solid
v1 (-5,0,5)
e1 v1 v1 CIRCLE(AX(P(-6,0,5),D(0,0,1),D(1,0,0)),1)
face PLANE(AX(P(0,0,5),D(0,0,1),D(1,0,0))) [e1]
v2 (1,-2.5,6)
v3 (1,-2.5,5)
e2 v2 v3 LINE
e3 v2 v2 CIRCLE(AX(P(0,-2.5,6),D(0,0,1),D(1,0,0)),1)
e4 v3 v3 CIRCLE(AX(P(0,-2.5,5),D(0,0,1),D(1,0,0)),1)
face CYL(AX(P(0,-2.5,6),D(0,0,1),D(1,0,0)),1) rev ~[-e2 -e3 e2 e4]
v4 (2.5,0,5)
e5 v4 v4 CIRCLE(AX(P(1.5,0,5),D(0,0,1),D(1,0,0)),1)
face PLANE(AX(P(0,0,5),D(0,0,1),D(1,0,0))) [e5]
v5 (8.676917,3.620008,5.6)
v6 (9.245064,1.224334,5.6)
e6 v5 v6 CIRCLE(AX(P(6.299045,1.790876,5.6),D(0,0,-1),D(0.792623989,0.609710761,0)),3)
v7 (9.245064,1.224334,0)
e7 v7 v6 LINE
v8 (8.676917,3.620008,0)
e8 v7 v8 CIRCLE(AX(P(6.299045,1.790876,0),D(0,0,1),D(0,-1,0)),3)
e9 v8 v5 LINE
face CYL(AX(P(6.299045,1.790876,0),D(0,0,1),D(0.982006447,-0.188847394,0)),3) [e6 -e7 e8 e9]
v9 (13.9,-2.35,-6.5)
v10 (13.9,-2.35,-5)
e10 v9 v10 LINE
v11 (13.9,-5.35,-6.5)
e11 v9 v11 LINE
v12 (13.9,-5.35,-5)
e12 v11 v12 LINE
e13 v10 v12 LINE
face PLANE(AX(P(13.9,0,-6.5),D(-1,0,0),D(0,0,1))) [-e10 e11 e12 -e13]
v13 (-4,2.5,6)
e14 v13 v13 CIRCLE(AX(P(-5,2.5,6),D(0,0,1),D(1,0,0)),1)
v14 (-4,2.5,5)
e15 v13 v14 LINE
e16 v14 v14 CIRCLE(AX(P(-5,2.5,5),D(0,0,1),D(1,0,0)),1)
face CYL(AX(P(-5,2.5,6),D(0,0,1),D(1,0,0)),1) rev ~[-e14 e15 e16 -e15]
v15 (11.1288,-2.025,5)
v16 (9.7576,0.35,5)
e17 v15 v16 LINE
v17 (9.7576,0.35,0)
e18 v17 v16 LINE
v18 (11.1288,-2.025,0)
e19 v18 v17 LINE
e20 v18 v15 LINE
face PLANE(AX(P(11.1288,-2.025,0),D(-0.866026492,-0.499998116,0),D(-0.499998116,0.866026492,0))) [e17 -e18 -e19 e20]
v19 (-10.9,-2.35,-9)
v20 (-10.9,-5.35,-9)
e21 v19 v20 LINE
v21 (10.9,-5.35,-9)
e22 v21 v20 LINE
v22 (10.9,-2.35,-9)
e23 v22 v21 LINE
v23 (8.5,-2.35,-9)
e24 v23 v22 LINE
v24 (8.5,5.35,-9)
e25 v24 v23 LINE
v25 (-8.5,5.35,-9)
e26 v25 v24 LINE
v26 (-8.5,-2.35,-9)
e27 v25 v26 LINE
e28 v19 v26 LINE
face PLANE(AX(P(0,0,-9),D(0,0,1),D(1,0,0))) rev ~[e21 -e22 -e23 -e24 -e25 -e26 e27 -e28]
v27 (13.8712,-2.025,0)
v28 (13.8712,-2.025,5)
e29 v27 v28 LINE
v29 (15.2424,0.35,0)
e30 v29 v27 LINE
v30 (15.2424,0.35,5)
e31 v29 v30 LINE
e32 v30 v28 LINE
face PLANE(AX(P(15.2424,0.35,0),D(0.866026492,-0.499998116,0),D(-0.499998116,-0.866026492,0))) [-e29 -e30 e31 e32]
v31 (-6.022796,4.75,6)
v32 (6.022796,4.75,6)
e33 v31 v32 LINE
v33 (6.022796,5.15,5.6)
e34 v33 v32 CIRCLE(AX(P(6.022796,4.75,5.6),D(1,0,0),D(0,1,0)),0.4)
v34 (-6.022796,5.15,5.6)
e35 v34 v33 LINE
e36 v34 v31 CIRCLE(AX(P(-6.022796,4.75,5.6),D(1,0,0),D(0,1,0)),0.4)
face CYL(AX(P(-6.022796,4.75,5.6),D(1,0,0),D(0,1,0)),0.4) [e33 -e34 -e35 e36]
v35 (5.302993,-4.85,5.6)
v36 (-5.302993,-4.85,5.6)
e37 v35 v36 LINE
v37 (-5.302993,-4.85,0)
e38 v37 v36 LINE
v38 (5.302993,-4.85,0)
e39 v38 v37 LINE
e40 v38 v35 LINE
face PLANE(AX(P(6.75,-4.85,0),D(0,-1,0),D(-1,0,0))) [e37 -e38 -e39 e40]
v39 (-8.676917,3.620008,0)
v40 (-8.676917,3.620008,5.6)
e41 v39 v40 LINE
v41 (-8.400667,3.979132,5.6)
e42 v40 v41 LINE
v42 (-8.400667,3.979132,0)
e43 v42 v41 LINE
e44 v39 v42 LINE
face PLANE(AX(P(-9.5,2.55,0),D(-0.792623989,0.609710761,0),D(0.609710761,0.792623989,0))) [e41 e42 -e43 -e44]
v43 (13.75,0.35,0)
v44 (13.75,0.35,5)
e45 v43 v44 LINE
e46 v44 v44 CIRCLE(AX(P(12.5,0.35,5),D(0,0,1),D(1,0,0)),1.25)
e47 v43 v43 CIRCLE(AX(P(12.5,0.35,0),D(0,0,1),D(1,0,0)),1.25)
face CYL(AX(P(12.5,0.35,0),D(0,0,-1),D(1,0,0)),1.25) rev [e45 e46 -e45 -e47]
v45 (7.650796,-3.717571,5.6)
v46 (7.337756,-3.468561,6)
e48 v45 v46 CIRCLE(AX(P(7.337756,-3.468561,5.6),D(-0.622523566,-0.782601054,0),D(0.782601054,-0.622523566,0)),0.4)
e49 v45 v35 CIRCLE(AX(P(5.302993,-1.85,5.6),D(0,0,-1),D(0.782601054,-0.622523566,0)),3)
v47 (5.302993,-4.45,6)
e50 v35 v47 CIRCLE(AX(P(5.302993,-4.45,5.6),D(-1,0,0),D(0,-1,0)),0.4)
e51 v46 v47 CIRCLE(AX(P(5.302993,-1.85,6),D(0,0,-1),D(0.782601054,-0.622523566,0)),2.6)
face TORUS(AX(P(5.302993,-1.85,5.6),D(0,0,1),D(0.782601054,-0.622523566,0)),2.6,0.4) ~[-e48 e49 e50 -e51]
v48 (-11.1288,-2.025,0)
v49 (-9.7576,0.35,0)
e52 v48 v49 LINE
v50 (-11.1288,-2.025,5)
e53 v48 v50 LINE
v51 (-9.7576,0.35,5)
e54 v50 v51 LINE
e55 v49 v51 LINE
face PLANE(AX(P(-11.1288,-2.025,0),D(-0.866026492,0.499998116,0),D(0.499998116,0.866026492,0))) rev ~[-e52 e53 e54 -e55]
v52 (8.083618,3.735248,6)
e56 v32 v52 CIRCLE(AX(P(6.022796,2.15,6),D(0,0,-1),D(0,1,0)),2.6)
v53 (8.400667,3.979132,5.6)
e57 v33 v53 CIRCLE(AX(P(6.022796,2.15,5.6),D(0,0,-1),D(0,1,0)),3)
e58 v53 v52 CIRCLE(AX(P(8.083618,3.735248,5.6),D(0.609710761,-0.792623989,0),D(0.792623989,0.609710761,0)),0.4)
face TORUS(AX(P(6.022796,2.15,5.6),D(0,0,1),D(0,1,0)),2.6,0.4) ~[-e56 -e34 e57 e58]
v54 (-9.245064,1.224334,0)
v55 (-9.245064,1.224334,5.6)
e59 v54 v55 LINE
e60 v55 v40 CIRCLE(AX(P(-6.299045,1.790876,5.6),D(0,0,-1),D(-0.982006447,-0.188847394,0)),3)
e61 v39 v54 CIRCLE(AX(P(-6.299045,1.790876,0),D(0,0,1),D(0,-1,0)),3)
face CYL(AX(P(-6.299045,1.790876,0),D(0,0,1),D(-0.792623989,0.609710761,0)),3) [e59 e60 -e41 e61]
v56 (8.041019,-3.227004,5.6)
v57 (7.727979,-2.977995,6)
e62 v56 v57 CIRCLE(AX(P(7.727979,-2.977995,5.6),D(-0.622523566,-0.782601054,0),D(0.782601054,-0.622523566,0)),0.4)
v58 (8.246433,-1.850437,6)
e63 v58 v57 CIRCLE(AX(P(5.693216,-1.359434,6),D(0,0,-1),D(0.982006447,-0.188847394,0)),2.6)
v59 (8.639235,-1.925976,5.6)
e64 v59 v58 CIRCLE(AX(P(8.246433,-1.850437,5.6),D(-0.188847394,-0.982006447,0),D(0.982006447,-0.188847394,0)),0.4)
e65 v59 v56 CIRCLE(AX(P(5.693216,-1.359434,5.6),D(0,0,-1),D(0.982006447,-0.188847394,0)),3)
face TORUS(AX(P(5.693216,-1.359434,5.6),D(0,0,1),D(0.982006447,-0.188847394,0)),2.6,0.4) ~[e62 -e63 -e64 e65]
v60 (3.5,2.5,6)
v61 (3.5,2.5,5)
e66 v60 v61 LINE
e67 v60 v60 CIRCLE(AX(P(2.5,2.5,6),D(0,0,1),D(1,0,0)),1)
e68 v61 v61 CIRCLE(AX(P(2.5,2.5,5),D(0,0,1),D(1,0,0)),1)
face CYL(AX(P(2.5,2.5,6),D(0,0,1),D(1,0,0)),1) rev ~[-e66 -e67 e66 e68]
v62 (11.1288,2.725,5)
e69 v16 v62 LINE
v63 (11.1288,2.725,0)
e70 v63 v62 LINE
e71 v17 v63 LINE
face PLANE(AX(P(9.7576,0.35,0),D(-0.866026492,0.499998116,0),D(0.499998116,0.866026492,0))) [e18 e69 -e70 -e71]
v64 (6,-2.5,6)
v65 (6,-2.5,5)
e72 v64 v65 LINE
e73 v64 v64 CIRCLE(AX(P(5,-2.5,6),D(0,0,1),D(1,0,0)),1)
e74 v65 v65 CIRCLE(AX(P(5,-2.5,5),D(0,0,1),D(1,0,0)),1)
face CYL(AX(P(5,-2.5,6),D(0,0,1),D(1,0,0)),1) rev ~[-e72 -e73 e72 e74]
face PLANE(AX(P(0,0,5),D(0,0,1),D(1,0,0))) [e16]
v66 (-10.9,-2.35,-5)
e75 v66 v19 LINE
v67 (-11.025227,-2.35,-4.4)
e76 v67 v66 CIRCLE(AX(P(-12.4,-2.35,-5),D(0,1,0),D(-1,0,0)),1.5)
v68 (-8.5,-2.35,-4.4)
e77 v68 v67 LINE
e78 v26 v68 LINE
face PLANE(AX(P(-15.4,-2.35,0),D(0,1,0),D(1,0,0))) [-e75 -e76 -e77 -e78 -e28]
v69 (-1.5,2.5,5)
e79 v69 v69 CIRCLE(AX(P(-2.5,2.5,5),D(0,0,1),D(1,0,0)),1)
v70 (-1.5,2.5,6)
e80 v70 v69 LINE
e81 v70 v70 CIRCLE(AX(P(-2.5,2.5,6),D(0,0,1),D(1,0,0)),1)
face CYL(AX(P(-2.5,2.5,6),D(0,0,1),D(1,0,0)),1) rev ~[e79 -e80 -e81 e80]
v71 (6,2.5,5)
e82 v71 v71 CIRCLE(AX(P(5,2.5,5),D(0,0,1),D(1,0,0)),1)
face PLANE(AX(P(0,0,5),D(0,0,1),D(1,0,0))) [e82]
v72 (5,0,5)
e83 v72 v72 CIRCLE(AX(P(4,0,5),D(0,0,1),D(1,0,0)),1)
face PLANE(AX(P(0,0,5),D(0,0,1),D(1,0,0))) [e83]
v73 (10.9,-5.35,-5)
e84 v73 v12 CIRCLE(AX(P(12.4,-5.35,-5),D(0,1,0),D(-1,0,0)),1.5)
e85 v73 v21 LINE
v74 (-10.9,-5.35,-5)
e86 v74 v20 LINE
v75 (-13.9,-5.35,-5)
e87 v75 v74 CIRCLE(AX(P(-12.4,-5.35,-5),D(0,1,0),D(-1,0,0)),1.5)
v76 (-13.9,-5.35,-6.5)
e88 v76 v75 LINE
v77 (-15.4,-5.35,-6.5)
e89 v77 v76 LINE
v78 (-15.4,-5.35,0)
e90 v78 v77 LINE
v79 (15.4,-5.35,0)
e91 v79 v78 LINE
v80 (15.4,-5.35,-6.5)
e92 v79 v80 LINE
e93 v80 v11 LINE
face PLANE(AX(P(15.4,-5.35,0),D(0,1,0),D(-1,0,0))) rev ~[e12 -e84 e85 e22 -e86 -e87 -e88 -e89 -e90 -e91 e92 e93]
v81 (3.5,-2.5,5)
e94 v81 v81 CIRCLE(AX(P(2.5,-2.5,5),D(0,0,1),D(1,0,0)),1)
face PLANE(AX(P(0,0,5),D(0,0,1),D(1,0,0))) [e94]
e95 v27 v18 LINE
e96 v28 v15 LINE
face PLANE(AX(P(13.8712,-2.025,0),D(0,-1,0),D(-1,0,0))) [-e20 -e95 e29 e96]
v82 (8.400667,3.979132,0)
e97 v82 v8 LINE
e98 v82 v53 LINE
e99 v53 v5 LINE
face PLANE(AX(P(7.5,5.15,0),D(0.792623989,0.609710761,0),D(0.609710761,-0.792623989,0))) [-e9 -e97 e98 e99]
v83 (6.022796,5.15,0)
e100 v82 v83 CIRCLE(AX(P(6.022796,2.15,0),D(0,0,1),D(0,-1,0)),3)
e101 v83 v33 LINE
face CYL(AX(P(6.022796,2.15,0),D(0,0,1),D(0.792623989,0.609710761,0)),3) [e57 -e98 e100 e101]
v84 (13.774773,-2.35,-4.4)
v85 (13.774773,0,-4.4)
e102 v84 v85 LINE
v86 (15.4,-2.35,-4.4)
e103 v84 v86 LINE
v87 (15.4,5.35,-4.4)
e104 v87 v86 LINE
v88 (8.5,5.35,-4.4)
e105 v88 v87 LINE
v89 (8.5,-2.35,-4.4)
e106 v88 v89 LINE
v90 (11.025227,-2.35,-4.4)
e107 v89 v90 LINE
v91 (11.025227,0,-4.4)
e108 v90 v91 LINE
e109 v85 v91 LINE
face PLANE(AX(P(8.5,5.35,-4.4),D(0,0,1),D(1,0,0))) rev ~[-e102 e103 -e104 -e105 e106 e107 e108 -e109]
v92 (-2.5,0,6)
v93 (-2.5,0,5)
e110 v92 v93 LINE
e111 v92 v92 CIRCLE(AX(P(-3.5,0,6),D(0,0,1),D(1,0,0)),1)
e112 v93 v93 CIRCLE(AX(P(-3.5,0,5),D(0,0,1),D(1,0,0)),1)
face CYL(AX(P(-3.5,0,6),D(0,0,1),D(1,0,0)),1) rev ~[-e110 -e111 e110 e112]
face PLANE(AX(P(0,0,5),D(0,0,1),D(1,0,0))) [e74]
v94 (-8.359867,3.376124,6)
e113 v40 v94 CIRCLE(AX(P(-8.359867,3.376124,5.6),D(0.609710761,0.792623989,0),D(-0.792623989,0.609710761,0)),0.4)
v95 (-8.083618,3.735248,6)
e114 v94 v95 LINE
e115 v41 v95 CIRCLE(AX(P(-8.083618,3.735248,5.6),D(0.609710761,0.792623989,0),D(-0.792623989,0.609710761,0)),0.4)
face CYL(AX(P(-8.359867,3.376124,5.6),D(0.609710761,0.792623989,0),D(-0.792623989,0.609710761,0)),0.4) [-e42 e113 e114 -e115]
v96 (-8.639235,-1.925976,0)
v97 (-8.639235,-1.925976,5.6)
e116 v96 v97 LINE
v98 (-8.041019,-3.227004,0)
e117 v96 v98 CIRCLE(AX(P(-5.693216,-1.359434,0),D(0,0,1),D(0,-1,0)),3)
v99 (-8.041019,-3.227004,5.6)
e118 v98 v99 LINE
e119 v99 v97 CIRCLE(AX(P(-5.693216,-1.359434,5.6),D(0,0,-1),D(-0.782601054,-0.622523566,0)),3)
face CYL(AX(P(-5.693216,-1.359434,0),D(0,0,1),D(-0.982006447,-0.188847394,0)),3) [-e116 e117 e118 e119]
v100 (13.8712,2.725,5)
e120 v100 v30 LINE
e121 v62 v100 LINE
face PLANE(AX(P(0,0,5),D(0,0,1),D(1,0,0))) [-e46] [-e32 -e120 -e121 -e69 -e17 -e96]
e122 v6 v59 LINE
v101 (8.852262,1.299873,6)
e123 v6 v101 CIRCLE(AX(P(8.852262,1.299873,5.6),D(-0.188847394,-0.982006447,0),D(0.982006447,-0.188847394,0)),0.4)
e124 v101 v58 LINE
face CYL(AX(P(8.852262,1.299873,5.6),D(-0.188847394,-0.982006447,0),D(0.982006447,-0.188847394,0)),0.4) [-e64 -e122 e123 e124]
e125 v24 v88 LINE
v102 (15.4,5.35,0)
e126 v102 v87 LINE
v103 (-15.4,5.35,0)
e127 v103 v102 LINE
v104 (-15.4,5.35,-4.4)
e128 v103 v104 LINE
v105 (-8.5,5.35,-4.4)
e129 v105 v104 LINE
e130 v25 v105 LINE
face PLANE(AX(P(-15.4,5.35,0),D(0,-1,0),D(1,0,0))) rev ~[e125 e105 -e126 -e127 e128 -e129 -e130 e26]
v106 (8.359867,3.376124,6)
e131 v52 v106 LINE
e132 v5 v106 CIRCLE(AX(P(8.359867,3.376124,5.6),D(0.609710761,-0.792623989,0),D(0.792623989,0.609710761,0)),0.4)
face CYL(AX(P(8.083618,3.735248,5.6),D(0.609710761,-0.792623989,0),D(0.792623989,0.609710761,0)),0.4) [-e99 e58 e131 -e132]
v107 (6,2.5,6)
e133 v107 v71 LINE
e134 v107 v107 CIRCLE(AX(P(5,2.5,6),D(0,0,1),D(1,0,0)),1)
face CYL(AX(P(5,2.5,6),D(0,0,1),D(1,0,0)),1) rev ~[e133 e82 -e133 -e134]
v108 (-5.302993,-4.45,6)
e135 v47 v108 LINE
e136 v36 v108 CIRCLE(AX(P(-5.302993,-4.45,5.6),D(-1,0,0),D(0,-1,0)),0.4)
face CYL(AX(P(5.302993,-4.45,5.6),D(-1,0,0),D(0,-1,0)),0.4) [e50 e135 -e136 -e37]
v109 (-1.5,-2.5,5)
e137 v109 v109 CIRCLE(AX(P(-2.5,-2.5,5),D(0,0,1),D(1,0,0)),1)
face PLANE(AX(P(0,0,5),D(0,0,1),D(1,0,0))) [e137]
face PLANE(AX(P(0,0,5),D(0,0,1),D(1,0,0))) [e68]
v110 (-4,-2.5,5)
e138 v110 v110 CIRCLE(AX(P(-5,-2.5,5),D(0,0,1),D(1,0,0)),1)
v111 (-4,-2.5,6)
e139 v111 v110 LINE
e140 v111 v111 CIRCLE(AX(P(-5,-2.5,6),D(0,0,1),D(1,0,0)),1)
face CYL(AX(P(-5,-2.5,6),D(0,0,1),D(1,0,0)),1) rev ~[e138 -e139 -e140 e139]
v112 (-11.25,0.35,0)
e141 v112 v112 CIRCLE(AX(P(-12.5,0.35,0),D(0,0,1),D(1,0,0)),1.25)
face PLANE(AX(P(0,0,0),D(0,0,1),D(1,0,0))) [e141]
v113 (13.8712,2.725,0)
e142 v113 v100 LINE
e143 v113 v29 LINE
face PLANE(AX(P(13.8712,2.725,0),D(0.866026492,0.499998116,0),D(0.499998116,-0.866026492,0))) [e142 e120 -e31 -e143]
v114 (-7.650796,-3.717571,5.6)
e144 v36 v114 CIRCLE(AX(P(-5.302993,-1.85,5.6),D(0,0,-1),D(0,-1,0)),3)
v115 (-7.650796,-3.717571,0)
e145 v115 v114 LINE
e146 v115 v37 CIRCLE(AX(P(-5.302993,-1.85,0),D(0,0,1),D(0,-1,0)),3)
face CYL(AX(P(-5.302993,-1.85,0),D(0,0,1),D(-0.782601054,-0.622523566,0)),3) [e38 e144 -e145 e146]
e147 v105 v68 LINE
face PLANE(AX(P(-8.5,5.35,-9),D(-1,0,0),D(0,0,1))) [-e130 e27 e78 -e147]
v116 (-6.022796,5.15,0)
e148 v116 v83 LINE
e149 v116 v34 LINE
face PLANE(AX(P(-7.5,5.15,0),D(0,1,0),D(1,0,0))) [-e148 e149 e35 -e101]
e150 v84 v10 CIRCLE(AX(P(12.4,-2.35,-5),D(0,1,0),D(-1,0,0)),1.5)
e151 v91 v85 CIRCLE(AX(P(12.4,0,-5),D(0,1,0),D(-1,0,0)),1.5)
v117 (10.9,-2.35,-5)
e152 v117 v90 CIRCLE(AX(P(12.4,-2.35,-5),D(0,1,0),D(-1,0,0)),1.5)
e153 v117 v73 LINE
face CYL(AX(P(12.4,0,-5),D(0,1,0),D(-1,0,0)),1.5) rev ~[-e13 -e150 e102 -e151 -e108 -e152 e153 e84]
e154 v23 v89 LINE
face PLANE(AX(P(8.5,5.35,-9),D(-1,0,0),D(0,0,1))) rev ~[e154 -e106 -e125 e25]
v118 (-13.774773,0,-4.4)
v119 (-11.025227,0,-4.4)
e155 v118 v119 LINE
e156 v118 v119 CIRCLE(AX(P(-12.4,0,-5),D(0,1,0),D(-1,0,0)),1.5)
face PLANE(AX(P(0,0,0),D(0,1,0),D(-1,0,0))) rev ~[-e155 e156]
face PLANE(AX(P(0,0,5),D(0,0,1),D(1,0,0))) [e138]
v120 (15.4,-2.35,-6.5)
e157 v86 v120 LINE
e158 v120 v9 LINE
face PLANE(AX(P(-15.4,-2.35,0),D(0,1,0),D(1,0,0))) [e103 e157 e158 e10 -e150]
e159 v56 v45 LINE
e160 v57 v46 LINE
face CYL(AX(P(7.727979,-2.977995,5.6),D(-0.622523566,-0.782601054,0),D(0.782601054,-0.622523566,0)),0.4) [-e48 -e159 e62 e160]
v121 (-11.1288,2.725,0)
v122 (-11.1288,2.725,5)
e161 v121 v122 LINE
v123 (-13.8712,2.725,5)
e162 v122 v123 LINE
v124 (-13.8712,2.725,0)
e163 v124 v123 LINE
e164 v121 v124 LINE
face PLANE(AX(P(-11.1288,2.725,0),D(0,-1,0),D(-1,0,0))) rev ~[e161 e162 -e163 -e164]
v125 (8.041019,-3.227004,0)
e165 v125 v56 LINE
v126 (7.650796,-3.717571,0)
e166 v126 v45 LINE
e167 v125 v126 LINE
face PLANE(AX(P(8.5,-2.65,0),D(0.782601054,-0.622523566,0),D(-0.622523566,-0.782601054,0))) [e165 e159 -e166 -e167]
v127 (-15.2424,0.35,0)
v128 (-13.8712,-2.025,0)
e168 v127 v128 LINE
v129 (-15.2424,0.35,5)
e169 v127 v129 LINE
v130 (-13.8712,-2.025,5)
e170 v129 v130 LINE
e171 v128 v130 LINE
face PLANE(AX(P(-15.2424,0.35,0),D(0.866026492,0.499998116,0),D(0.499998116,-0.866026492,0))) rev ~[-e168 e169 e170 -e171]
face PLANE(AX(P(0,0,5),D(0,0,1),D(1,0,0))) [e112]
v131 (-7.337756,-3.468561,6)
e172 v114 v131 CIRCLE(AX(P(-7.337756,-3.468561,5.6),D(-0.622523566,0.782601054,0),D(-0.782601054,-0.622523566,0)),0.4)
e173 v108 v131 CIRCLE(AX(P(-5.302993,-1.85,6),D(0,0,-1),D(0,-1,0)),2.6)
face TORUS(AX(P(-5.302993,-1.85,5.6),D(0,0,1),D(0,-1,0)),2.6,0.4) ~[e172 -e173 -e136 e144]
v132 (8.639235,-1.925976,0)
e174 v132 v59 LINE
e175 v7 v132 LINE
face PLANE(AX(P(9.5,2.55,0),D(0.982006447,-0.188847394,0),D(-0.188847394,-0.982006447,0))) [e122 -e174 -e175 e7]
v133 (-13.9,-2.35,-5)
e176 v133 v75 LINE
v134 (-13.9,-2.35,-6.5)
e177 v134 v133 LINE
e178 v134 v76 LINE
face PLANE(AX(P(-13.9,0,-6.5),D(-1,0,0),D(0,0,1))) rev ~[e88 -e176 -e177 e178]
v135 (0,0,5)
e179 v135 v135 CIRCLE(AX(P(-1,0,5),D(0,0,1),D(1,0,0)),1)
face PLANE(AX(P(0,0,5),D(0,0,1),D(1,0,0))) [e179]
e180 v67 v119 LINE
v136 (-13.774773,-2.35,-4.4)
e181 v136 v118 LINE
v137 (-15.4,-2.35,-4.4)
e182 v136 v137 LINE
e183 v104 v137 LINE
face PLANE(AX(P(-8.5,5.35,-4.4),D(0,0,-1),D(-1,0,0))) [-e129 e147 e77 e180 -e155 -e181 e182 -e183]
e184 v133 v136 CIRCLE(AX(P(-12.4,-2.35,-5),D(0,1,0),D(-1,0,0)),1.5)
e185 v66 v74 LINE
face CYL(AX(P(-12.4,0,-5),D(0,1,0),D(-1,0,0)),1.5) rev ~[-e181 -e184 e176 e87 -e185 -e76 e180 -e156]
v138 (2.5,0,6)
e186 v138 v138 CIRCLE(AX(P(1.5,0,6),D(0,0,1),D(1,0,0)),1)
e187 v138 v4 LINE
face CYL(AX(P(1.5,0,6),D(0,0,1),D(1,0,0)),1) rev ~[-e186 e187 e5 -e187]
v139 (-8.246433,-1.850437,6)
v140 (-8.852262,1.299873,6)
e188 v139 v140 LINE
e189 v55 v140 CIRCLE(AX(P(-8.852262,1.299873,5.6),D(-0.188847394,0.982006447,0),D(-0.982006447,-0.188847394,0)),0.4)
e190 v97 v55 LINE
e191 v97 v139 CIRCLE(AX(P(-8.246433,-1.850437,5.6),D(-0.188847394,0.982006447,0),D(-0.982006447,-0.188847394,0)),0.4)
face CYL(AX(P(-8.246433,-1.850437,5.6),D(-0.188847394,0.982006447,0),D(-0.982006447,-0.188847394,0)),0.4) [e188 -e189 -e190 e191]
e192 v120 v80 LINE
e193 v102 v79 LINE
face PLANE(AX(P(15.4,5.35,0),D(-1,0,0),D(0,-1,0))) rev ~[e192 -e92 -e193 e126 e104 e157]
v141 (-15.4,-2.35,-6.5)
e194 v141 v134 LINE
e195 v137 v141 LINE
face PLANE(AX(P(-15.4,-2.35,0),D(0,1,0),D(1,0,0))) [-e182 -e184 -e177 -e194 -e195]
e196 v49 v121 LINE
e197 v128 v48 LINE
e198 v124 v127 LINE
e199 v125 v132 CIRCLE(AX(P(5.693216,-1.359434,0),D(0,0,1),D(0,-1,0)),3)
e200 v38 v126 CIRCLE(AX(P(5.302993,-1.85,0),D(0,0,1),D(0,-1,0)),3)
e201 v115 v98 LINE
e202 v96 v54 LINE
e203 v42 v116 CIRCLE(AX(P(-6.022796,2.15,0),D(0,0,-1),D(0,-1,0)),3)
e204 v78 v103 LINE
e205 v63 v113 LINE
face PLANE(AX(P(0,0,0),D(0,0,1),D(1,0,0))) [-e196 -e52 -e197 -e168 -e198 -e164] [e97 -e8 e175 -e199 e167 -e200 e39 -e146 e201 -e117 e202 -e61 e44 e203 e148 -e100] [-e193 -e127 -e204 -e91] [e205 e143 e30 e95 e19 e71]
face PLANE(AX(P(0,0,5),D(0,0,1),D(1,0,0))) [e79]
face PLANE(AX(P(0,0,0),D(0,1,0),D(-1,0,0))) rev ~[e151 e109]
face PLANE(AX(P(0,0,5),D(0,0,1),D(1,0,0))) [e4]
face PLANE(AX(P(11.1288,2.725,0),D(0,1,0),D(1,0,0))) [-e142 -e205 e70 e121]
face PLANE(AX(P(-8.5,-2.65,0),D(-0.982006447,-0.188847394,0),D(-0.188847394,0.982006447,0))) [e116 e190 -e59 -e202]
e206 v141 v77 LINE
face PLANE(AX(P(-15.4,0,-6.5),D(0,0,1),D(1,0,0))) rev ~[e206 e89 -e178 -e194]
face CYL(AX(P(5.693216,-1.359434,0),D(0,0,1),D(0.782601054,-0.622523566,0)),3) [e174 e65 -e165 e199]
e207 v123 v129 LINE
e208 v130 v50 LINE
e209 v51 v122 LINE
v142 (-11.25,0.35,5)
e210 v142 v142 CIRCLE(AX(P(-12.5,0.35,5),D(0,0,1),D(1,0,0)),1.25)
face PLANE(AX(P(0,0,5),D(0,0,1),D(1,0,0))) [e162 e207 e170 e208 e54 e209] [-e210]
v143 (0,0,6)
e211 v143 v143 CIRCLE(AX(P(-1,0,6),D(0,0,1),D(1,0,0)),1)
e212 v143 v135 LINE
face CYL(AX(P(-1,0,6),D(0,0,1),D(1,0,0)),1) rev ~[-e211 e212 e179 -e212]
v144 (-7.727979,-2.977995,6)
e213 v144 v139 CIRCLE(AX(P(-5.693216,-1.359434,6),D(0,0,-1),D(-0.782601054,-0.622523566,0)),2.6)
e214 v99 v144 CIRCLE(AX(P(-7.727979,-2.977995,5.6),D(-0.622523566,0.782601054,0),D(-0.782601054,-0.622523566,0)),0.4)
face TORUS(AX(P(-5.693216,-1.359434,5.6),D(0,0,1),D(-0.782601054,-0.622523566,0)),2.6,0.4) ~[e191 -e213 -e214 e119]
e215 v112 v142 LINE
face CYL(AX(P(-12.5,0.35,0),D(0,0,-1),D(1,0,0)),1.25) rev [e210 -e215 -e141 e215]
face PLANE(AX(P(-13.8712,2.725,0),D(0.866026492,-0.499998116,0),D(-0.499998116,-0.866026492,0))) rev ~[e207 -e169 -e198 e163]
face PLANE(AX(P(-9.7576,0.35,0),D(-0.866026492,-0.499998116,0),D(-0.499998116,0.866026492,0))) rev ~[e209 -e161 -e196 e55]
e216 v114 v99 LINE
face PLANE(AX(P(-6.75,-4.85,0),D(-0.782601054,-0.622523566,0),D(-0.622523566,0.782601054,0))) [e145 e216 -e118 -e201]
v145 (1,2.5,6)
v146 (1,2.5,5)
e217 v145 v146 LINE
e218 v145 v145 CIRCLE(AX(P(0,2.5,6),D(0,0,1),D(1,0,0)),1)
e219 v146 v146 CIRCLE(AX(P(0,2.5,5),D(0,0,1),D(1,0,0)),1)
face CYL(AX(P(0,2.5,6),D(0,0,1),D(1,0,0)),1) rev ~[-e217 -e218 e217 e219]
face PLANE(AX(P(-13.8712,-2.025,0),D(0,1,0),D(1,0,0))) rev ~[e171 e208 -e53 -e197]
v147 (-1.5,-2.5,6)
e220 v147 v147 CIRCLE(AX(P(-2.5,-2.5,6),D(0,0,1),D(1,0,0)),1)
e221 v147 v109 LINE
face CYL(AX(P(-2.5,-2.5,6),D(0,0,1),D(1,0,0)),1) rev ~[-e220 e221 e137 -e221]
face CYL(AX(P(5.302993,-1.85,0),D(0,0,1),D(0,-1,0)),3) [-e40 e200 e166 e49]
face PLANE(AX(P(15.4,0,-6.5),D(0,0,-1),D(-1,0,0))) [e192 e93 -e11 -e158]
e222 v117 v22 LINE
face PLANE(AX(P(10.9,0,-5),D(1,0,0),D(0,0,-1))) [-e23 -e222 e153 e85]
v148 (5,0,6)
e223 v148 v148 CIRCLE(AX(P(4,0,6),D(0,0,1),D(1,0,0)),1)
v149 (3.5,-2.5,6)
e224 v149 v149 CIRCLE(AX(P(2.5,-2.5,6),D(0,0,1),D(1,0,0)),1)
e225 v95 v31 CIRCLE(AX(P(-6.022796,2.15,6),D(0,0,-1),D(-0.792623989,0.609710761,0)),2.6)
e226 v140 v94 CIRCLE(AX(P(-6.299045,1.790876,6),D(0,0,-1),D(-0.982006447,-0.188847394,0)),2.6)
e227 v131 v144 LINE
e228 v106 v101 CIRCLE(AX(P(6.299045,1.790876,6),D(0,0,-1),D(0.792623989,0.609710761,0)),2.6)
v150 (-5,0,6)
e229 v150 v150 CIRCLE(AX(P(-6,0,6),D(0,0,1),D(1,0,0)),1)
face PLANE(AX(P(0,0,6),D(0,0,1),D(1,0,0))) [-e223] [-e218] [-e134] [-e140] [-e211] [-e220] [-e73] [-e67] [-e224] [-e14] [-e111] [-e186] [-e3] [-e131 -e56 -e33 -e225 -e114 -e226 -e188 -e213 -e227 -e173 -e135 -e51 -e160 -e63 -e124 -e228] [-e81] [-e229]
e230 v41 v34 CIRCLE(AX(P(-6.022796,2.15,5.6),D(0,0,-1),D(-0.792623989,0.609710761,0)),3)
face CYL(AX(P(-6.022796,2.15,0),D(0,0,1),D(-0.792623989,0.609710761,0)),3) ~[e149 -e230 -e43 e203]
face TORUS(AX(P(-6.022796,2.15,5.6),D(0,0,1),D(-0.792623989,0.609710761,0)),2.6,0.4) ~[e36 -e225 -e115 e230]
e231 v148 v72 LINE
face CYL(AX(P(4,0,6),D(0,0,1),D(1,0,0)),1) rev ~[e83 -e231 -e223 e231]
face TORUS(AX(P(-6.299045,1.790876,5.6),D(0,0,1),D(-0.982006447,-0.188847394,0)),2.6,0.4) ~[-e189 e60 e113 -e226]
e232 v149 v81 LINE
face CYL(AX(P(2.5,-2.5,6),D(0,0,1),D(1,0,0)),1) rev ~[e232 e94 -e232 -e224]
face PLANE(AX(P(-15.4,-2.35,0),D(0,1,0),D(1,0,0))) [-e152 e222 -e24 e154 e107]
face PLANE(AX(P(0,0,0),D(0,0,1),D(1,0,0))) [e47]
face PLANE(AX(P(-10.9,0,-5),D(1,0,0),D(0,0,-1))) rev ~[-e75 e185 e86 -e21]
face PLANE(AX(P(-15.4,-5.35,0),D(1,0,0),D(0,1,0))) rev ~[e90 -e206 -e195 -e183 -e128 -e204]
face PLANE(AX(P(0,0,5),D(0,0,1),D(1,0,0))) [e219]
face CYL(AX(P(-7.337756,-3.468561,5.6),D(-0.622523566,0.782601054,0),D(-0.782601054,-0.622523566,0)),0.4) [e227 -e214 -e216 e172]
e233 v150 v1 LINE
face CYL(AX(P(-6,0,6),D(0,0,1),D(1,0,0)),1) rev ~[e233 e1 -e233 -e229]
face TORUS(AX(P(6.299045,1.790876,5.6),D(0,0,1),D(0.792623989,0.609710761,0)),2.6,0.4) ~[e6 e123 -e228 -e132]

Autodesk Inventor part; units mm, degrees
ref_plane "YZ Plane" through (0, 0, 0) normal (1, 0, 0) x (0, 1, 0)
ref_plane "XZ Plane" through (0, 0, 0) normal (0, 1, 0) x (-1, 0, 0)
ref_plane "XY Plane" through (0, 0, 0) normal (0, 0, 1) x (1, 0, 0)
sketch "Sketch1" plane through (0, 0, 0) normal (0, 0, 1) x (1, 0, 0)
  line L0 (-15.4, 5.35) -> (15.4, 5.35)
  line L1 (15.4, 5.35) -> (15.4, -5.35)
  line L2 (15.4, -5.35) -> (-15.4, -5.35)
  line L3 (-15.4, -5.35) -> (-15.4, 5.35)
  line L4 (-15.4, 5.35) -> (15.4, -5.35) construction
  line L5 (15.4, 5.35) -> (-15.4, -5.35) construction
  line L6 (-15.4, 0.35) -> (15.4, 0.35) construction
  circle A0 centre (-12.5, 0.35) radius 1.25
  circle A1 centre (12.5, 0.35) radius 1.25
  line L7 (0, 5.35) -> (0, -5.35) construction
  circle A2 centre (-12.5, 0.35) radius 2.7424 construction
  line L8 (-13.8712, -2.025) -> (-11.1288, 2.725) construction
  line L9 (-13.8712, 2.725) -> (-11.1288, -2.025) construction
  line L10 (-9.7576, 0.35) -> (-15.2424, 0.35) construction
  line L11 (-11.1288, 2.725) -> (-13.8712, 2.725)
  line L12 (-13.8712, 2.725) -> (-15.2424, 0.35)
  line L13 (-15.2424, 0.35) -> (-13.8712, -2.025)
  line L14 (-13.8712, -2.025) -> (-11.1288, -2.025)
  line L15 (-11.1288, -2.025) -> (-9.7576, 0.35)
  line L16 (-9.7576, 0.35) -> (-11.1288, 2.725)
  line L17 (11.1288, 2.725) -> (13.8712, 2.725)
  line L18 (13.8712, 2.725) -> (15.2424, 0.35)
  line L19 (15.2424, 0.35) -> (13.8712, -2.025)
  line L20 (13.8712, -2.025) -> (11.1288, -2.025)
  line L21 (11.1288, -2.025) -> (9.7576, 0.35)
  line L22 (9.7576, 0.35) -> (11.1288, 2.725)
  line L23 (-7.5, 5.15) -> (7.5, 5.15)
  line L24 (7.5, 5.15) -> (9.5, 2.55)
  line L25 (9.5, 2.55) -> (8.5, -2.65)
  line L26 (8.5, -2.65) -> (6.75, -4.85)
  line L27 (6.75, -4.85) -> (-6.75, -4.85)
  line L28 (-6.75, -4.85) -> (-8.5, -2.65)
  line L29 (-8.5, -2.65) -> (-9.5, 2.55)
  line L30 (-9.5, 2.55) -> (-7.5, 5.15)
  point P0 (0, 0)
  dimension "d0" = 30.8
  dimension "d1" = 10.7
  dimension "d2" = 2.5
  dimension "d4" = 60
  dimension "d5" = 60
  dimension "d6" = 4.75
  dimension "d7" = 5
  dimension "d8" = 25
  dimension "d9" = 15
  dimension "d10" = 19
  dimension "d11" = 13.5
  dimension "d12" = 17
  dimension "d13" = 10
  dimension "d14" = 7.4
  dimension "d15" = 2.2
  dimension "d16" = 0.2
extrude "Extrusion1" add sketch "Sketch1" along normal blind 5 contours L16 L15 L14 L13 L12 L11 | L17 L18 L19 L20 L21 L22
extrude "Extrusion2" add sketch "Sketch1" along normal blind 6 contours L23 L24 L25 L26 L27 L28 L29 L30
extrude "Extrusion3" add sketch "Sketch1" against normal blind 9 contours L0 L1 L2 L3 | A0 | A1 | L16 L15 L14 L13 L12 L11 | L17 L18 L19 L20 L21 L22 | L23 L24 L25 L26 L27 L28 L29 L30
sketch "Sketch2" plane through (-15.4, 5.35, 0) normal (0, 1, 0) x (1, 0, 0)
  line L0 (0, 0) -> (30.8, 0) projected
  line L1 (30.8, 0) -> (30.8, 9) projected
  line L2 (0, 9) -> (30.8, 9) projected
  line L3 (0, 0) -> (0, 9) projected
  line L4 (15.4, 0) -> (15.4, 9) construction
  line L5 (0, 0) -> (0, 9) projected
  line L6 (0, 9) -> (6.9, 9)
  line L7 (6.9, 9) -> (6.9, 4.4)
  line L8 (6.9, 4.4) -> (0, 4.4)
  line L9 (0, 4.4) -> (0, 9)
  line L10 (30.8, 9) -> (0, 9) projected
  line L11 (30.8, 9) -> (23.9, 9)
  line L12 (23.9, 9) -> (23.9, 4.4)
  line L13 (23.9, 4.4) -> (30.8, 4.4)
  line L14 (30.8, 4.4) -> (30.8, 9)
  line L15 (6.9, 4.4) -> (23.9, 4.4) construction
  dimension "d23" = 17
  dimension "d24" = 4.4
extrude "Extrusion4" cut sketch "Sketch2" against normal blind 7.7 contours L3 L2 L7 L8 | L13 L12 L2 L1
sketch "Sketch3" plane through (0, 0, 6) normal (0, 0, 1) x (1, 0, 0)
  line L0 (-5, 2.5) -> (3.2977, 2.5) construction
  circle A0 centre (-5, 2.5) radius 1
  circle A1 centre (-2.5, 2.5) radius 1
  circle A2 centre (0, 2.5) radius 1
  circle A3 centre (2.5, 2.5) radius 1
  circle A4 centre (5, 2.5) radius 1
  line L1 (-6, 0) -> (3.7977, 0) construction
  circle A5 centre (-6, 0) radius 1
  circle A6 centre (-3.5, 0) radius 1
  circle A7 centre (-1, 0) radius 1
  circle A8 centre (1.5, 0) radius 1
  circle A9 centre (4, 0) radius 1
  line L2 (-5, -2.5) -> (3.1289, -2.5) construction
  circle A10 centre (-5, -2.5) radius 1
  circle A11 centre (-2.5, -2.5) radius 1
  circle A12 centre (0, -2.5) radius 1
  circle A13 centre (2.5, -2.5) radius 1
  circle A14 centre (5, -2.5) radius 1
  line L3 (0, 2.5) -> (0, -2.5) construction
  point P0 (0, 0)
  point P1 (0, 0)
  dimension "d27" = 2
  dimension "d30" = 2.5
  dimension "d39" = 2
  dimension "d40" = 2.5
  dimension "d50" = 2
  dimension "d51" = 2.5
  dimension "d53" = 2.5
  dimension "d54" = 2.5
extrude "Extrusion5" cut sketch "Sketch3" against normal blind 1
fillet "Fillet1" radius 3 8 edges at (-7.5, 5.15, 3) (-9.5, 2.55, 3) (-8.5, -2.65, 3) (-6.75, -4.85, 3) (6.75, -4.85, 3) (8.5, -2.65, 3) (9.5, 2.55, 3) (7.5, 5.15, 3)
sketch "Sketch4" plane through (0, 0, 0) normal (0, 1, 0) x (-1, 0, 0)
  line L0 (-15.4, -9) -> (15.4, -9) projected
  line L1 (15.4, -4.4) -> (15.4, -9) projected
  line L2 (-15.4, -9) -> (-15.4, -4.4) projected
  line L3 (15.4, -6.5) -> (13.9, -6.5)
  line L4 (13.9, -6.5) -> (13.9, -5)
  line L5 (10.9, -5) -> (10.9, -9)
  line L6 (10.9, -9) -> (15.4, -9)
  line L7 (15.4, -9) -> (15.4, -6.5)
  arc A0 (13.9, -5) -> (10.9, -5) centre (12.4, -5) ccw
  line L8 (8.5, -9) -> (-8.5, -9) projected
  line L9 (0, -9) -> (0, -5) construction
  arc A1 (10.9, -5) -> (13.9, -5) centre (12.4, -5) ccw construction
  line L10 (-15.4, -4.4) -> (-15.4, -9)
  line L11 (-15.4, -6.5) -> (-13.9, -6.5)
  line L12 (-13.9, -6.5) -> (-13.9, -5)
  line L13 (-10.9, -5) -> (-10.9, -9)
  line L14 (-10.9, -9) -> (-15.4, -9)
  line L15 (-15.4, -9) -> (-15.4, -6.5)
  arc A2 (-10.9, -5) -> (-13.9, -5) centre (-12.4, -5) ccw
  arc A3 (-13.9, -5) -> (-10.9, -5) centre (-12.4, -5) ccw construction
  point P0 (0, 0)
  dimension "d58" = 3
  dimension "d59" = 4
  dimension "d60" = 3
  dimension "d61" = 2.5
extrude "Extrusion6" cut sketch "Sketch4" against normal through all
fillet "Fillet2" radius 0.4 16 edges at (-7.3481, 4.8414, 6) (-8.5388, 3.7996, 6) (-9.2181, 2.4831, 6) (-8.9421, -0.3508, 6) (-8.4189, -2.6127, 6) (-7.8459, -3.4723, 6) (-6.6063, -4.5521, 6) (0, -4.85, 6) (6.6063, -4.5521, 6) (7.8459, -3.4723, 6) (8.4189, -2.6127, 6) (8.9421, -0.3508, 6) (9.2181, 2.4831, 6) (8.5388, 3.7996, 6) (7.3481, 4.8414, 6) (0, 5.15, 6)
equation "\"d5\" = d4"
equation "\"d54\" = d53"
properties part number "db15-connector-pcb"
